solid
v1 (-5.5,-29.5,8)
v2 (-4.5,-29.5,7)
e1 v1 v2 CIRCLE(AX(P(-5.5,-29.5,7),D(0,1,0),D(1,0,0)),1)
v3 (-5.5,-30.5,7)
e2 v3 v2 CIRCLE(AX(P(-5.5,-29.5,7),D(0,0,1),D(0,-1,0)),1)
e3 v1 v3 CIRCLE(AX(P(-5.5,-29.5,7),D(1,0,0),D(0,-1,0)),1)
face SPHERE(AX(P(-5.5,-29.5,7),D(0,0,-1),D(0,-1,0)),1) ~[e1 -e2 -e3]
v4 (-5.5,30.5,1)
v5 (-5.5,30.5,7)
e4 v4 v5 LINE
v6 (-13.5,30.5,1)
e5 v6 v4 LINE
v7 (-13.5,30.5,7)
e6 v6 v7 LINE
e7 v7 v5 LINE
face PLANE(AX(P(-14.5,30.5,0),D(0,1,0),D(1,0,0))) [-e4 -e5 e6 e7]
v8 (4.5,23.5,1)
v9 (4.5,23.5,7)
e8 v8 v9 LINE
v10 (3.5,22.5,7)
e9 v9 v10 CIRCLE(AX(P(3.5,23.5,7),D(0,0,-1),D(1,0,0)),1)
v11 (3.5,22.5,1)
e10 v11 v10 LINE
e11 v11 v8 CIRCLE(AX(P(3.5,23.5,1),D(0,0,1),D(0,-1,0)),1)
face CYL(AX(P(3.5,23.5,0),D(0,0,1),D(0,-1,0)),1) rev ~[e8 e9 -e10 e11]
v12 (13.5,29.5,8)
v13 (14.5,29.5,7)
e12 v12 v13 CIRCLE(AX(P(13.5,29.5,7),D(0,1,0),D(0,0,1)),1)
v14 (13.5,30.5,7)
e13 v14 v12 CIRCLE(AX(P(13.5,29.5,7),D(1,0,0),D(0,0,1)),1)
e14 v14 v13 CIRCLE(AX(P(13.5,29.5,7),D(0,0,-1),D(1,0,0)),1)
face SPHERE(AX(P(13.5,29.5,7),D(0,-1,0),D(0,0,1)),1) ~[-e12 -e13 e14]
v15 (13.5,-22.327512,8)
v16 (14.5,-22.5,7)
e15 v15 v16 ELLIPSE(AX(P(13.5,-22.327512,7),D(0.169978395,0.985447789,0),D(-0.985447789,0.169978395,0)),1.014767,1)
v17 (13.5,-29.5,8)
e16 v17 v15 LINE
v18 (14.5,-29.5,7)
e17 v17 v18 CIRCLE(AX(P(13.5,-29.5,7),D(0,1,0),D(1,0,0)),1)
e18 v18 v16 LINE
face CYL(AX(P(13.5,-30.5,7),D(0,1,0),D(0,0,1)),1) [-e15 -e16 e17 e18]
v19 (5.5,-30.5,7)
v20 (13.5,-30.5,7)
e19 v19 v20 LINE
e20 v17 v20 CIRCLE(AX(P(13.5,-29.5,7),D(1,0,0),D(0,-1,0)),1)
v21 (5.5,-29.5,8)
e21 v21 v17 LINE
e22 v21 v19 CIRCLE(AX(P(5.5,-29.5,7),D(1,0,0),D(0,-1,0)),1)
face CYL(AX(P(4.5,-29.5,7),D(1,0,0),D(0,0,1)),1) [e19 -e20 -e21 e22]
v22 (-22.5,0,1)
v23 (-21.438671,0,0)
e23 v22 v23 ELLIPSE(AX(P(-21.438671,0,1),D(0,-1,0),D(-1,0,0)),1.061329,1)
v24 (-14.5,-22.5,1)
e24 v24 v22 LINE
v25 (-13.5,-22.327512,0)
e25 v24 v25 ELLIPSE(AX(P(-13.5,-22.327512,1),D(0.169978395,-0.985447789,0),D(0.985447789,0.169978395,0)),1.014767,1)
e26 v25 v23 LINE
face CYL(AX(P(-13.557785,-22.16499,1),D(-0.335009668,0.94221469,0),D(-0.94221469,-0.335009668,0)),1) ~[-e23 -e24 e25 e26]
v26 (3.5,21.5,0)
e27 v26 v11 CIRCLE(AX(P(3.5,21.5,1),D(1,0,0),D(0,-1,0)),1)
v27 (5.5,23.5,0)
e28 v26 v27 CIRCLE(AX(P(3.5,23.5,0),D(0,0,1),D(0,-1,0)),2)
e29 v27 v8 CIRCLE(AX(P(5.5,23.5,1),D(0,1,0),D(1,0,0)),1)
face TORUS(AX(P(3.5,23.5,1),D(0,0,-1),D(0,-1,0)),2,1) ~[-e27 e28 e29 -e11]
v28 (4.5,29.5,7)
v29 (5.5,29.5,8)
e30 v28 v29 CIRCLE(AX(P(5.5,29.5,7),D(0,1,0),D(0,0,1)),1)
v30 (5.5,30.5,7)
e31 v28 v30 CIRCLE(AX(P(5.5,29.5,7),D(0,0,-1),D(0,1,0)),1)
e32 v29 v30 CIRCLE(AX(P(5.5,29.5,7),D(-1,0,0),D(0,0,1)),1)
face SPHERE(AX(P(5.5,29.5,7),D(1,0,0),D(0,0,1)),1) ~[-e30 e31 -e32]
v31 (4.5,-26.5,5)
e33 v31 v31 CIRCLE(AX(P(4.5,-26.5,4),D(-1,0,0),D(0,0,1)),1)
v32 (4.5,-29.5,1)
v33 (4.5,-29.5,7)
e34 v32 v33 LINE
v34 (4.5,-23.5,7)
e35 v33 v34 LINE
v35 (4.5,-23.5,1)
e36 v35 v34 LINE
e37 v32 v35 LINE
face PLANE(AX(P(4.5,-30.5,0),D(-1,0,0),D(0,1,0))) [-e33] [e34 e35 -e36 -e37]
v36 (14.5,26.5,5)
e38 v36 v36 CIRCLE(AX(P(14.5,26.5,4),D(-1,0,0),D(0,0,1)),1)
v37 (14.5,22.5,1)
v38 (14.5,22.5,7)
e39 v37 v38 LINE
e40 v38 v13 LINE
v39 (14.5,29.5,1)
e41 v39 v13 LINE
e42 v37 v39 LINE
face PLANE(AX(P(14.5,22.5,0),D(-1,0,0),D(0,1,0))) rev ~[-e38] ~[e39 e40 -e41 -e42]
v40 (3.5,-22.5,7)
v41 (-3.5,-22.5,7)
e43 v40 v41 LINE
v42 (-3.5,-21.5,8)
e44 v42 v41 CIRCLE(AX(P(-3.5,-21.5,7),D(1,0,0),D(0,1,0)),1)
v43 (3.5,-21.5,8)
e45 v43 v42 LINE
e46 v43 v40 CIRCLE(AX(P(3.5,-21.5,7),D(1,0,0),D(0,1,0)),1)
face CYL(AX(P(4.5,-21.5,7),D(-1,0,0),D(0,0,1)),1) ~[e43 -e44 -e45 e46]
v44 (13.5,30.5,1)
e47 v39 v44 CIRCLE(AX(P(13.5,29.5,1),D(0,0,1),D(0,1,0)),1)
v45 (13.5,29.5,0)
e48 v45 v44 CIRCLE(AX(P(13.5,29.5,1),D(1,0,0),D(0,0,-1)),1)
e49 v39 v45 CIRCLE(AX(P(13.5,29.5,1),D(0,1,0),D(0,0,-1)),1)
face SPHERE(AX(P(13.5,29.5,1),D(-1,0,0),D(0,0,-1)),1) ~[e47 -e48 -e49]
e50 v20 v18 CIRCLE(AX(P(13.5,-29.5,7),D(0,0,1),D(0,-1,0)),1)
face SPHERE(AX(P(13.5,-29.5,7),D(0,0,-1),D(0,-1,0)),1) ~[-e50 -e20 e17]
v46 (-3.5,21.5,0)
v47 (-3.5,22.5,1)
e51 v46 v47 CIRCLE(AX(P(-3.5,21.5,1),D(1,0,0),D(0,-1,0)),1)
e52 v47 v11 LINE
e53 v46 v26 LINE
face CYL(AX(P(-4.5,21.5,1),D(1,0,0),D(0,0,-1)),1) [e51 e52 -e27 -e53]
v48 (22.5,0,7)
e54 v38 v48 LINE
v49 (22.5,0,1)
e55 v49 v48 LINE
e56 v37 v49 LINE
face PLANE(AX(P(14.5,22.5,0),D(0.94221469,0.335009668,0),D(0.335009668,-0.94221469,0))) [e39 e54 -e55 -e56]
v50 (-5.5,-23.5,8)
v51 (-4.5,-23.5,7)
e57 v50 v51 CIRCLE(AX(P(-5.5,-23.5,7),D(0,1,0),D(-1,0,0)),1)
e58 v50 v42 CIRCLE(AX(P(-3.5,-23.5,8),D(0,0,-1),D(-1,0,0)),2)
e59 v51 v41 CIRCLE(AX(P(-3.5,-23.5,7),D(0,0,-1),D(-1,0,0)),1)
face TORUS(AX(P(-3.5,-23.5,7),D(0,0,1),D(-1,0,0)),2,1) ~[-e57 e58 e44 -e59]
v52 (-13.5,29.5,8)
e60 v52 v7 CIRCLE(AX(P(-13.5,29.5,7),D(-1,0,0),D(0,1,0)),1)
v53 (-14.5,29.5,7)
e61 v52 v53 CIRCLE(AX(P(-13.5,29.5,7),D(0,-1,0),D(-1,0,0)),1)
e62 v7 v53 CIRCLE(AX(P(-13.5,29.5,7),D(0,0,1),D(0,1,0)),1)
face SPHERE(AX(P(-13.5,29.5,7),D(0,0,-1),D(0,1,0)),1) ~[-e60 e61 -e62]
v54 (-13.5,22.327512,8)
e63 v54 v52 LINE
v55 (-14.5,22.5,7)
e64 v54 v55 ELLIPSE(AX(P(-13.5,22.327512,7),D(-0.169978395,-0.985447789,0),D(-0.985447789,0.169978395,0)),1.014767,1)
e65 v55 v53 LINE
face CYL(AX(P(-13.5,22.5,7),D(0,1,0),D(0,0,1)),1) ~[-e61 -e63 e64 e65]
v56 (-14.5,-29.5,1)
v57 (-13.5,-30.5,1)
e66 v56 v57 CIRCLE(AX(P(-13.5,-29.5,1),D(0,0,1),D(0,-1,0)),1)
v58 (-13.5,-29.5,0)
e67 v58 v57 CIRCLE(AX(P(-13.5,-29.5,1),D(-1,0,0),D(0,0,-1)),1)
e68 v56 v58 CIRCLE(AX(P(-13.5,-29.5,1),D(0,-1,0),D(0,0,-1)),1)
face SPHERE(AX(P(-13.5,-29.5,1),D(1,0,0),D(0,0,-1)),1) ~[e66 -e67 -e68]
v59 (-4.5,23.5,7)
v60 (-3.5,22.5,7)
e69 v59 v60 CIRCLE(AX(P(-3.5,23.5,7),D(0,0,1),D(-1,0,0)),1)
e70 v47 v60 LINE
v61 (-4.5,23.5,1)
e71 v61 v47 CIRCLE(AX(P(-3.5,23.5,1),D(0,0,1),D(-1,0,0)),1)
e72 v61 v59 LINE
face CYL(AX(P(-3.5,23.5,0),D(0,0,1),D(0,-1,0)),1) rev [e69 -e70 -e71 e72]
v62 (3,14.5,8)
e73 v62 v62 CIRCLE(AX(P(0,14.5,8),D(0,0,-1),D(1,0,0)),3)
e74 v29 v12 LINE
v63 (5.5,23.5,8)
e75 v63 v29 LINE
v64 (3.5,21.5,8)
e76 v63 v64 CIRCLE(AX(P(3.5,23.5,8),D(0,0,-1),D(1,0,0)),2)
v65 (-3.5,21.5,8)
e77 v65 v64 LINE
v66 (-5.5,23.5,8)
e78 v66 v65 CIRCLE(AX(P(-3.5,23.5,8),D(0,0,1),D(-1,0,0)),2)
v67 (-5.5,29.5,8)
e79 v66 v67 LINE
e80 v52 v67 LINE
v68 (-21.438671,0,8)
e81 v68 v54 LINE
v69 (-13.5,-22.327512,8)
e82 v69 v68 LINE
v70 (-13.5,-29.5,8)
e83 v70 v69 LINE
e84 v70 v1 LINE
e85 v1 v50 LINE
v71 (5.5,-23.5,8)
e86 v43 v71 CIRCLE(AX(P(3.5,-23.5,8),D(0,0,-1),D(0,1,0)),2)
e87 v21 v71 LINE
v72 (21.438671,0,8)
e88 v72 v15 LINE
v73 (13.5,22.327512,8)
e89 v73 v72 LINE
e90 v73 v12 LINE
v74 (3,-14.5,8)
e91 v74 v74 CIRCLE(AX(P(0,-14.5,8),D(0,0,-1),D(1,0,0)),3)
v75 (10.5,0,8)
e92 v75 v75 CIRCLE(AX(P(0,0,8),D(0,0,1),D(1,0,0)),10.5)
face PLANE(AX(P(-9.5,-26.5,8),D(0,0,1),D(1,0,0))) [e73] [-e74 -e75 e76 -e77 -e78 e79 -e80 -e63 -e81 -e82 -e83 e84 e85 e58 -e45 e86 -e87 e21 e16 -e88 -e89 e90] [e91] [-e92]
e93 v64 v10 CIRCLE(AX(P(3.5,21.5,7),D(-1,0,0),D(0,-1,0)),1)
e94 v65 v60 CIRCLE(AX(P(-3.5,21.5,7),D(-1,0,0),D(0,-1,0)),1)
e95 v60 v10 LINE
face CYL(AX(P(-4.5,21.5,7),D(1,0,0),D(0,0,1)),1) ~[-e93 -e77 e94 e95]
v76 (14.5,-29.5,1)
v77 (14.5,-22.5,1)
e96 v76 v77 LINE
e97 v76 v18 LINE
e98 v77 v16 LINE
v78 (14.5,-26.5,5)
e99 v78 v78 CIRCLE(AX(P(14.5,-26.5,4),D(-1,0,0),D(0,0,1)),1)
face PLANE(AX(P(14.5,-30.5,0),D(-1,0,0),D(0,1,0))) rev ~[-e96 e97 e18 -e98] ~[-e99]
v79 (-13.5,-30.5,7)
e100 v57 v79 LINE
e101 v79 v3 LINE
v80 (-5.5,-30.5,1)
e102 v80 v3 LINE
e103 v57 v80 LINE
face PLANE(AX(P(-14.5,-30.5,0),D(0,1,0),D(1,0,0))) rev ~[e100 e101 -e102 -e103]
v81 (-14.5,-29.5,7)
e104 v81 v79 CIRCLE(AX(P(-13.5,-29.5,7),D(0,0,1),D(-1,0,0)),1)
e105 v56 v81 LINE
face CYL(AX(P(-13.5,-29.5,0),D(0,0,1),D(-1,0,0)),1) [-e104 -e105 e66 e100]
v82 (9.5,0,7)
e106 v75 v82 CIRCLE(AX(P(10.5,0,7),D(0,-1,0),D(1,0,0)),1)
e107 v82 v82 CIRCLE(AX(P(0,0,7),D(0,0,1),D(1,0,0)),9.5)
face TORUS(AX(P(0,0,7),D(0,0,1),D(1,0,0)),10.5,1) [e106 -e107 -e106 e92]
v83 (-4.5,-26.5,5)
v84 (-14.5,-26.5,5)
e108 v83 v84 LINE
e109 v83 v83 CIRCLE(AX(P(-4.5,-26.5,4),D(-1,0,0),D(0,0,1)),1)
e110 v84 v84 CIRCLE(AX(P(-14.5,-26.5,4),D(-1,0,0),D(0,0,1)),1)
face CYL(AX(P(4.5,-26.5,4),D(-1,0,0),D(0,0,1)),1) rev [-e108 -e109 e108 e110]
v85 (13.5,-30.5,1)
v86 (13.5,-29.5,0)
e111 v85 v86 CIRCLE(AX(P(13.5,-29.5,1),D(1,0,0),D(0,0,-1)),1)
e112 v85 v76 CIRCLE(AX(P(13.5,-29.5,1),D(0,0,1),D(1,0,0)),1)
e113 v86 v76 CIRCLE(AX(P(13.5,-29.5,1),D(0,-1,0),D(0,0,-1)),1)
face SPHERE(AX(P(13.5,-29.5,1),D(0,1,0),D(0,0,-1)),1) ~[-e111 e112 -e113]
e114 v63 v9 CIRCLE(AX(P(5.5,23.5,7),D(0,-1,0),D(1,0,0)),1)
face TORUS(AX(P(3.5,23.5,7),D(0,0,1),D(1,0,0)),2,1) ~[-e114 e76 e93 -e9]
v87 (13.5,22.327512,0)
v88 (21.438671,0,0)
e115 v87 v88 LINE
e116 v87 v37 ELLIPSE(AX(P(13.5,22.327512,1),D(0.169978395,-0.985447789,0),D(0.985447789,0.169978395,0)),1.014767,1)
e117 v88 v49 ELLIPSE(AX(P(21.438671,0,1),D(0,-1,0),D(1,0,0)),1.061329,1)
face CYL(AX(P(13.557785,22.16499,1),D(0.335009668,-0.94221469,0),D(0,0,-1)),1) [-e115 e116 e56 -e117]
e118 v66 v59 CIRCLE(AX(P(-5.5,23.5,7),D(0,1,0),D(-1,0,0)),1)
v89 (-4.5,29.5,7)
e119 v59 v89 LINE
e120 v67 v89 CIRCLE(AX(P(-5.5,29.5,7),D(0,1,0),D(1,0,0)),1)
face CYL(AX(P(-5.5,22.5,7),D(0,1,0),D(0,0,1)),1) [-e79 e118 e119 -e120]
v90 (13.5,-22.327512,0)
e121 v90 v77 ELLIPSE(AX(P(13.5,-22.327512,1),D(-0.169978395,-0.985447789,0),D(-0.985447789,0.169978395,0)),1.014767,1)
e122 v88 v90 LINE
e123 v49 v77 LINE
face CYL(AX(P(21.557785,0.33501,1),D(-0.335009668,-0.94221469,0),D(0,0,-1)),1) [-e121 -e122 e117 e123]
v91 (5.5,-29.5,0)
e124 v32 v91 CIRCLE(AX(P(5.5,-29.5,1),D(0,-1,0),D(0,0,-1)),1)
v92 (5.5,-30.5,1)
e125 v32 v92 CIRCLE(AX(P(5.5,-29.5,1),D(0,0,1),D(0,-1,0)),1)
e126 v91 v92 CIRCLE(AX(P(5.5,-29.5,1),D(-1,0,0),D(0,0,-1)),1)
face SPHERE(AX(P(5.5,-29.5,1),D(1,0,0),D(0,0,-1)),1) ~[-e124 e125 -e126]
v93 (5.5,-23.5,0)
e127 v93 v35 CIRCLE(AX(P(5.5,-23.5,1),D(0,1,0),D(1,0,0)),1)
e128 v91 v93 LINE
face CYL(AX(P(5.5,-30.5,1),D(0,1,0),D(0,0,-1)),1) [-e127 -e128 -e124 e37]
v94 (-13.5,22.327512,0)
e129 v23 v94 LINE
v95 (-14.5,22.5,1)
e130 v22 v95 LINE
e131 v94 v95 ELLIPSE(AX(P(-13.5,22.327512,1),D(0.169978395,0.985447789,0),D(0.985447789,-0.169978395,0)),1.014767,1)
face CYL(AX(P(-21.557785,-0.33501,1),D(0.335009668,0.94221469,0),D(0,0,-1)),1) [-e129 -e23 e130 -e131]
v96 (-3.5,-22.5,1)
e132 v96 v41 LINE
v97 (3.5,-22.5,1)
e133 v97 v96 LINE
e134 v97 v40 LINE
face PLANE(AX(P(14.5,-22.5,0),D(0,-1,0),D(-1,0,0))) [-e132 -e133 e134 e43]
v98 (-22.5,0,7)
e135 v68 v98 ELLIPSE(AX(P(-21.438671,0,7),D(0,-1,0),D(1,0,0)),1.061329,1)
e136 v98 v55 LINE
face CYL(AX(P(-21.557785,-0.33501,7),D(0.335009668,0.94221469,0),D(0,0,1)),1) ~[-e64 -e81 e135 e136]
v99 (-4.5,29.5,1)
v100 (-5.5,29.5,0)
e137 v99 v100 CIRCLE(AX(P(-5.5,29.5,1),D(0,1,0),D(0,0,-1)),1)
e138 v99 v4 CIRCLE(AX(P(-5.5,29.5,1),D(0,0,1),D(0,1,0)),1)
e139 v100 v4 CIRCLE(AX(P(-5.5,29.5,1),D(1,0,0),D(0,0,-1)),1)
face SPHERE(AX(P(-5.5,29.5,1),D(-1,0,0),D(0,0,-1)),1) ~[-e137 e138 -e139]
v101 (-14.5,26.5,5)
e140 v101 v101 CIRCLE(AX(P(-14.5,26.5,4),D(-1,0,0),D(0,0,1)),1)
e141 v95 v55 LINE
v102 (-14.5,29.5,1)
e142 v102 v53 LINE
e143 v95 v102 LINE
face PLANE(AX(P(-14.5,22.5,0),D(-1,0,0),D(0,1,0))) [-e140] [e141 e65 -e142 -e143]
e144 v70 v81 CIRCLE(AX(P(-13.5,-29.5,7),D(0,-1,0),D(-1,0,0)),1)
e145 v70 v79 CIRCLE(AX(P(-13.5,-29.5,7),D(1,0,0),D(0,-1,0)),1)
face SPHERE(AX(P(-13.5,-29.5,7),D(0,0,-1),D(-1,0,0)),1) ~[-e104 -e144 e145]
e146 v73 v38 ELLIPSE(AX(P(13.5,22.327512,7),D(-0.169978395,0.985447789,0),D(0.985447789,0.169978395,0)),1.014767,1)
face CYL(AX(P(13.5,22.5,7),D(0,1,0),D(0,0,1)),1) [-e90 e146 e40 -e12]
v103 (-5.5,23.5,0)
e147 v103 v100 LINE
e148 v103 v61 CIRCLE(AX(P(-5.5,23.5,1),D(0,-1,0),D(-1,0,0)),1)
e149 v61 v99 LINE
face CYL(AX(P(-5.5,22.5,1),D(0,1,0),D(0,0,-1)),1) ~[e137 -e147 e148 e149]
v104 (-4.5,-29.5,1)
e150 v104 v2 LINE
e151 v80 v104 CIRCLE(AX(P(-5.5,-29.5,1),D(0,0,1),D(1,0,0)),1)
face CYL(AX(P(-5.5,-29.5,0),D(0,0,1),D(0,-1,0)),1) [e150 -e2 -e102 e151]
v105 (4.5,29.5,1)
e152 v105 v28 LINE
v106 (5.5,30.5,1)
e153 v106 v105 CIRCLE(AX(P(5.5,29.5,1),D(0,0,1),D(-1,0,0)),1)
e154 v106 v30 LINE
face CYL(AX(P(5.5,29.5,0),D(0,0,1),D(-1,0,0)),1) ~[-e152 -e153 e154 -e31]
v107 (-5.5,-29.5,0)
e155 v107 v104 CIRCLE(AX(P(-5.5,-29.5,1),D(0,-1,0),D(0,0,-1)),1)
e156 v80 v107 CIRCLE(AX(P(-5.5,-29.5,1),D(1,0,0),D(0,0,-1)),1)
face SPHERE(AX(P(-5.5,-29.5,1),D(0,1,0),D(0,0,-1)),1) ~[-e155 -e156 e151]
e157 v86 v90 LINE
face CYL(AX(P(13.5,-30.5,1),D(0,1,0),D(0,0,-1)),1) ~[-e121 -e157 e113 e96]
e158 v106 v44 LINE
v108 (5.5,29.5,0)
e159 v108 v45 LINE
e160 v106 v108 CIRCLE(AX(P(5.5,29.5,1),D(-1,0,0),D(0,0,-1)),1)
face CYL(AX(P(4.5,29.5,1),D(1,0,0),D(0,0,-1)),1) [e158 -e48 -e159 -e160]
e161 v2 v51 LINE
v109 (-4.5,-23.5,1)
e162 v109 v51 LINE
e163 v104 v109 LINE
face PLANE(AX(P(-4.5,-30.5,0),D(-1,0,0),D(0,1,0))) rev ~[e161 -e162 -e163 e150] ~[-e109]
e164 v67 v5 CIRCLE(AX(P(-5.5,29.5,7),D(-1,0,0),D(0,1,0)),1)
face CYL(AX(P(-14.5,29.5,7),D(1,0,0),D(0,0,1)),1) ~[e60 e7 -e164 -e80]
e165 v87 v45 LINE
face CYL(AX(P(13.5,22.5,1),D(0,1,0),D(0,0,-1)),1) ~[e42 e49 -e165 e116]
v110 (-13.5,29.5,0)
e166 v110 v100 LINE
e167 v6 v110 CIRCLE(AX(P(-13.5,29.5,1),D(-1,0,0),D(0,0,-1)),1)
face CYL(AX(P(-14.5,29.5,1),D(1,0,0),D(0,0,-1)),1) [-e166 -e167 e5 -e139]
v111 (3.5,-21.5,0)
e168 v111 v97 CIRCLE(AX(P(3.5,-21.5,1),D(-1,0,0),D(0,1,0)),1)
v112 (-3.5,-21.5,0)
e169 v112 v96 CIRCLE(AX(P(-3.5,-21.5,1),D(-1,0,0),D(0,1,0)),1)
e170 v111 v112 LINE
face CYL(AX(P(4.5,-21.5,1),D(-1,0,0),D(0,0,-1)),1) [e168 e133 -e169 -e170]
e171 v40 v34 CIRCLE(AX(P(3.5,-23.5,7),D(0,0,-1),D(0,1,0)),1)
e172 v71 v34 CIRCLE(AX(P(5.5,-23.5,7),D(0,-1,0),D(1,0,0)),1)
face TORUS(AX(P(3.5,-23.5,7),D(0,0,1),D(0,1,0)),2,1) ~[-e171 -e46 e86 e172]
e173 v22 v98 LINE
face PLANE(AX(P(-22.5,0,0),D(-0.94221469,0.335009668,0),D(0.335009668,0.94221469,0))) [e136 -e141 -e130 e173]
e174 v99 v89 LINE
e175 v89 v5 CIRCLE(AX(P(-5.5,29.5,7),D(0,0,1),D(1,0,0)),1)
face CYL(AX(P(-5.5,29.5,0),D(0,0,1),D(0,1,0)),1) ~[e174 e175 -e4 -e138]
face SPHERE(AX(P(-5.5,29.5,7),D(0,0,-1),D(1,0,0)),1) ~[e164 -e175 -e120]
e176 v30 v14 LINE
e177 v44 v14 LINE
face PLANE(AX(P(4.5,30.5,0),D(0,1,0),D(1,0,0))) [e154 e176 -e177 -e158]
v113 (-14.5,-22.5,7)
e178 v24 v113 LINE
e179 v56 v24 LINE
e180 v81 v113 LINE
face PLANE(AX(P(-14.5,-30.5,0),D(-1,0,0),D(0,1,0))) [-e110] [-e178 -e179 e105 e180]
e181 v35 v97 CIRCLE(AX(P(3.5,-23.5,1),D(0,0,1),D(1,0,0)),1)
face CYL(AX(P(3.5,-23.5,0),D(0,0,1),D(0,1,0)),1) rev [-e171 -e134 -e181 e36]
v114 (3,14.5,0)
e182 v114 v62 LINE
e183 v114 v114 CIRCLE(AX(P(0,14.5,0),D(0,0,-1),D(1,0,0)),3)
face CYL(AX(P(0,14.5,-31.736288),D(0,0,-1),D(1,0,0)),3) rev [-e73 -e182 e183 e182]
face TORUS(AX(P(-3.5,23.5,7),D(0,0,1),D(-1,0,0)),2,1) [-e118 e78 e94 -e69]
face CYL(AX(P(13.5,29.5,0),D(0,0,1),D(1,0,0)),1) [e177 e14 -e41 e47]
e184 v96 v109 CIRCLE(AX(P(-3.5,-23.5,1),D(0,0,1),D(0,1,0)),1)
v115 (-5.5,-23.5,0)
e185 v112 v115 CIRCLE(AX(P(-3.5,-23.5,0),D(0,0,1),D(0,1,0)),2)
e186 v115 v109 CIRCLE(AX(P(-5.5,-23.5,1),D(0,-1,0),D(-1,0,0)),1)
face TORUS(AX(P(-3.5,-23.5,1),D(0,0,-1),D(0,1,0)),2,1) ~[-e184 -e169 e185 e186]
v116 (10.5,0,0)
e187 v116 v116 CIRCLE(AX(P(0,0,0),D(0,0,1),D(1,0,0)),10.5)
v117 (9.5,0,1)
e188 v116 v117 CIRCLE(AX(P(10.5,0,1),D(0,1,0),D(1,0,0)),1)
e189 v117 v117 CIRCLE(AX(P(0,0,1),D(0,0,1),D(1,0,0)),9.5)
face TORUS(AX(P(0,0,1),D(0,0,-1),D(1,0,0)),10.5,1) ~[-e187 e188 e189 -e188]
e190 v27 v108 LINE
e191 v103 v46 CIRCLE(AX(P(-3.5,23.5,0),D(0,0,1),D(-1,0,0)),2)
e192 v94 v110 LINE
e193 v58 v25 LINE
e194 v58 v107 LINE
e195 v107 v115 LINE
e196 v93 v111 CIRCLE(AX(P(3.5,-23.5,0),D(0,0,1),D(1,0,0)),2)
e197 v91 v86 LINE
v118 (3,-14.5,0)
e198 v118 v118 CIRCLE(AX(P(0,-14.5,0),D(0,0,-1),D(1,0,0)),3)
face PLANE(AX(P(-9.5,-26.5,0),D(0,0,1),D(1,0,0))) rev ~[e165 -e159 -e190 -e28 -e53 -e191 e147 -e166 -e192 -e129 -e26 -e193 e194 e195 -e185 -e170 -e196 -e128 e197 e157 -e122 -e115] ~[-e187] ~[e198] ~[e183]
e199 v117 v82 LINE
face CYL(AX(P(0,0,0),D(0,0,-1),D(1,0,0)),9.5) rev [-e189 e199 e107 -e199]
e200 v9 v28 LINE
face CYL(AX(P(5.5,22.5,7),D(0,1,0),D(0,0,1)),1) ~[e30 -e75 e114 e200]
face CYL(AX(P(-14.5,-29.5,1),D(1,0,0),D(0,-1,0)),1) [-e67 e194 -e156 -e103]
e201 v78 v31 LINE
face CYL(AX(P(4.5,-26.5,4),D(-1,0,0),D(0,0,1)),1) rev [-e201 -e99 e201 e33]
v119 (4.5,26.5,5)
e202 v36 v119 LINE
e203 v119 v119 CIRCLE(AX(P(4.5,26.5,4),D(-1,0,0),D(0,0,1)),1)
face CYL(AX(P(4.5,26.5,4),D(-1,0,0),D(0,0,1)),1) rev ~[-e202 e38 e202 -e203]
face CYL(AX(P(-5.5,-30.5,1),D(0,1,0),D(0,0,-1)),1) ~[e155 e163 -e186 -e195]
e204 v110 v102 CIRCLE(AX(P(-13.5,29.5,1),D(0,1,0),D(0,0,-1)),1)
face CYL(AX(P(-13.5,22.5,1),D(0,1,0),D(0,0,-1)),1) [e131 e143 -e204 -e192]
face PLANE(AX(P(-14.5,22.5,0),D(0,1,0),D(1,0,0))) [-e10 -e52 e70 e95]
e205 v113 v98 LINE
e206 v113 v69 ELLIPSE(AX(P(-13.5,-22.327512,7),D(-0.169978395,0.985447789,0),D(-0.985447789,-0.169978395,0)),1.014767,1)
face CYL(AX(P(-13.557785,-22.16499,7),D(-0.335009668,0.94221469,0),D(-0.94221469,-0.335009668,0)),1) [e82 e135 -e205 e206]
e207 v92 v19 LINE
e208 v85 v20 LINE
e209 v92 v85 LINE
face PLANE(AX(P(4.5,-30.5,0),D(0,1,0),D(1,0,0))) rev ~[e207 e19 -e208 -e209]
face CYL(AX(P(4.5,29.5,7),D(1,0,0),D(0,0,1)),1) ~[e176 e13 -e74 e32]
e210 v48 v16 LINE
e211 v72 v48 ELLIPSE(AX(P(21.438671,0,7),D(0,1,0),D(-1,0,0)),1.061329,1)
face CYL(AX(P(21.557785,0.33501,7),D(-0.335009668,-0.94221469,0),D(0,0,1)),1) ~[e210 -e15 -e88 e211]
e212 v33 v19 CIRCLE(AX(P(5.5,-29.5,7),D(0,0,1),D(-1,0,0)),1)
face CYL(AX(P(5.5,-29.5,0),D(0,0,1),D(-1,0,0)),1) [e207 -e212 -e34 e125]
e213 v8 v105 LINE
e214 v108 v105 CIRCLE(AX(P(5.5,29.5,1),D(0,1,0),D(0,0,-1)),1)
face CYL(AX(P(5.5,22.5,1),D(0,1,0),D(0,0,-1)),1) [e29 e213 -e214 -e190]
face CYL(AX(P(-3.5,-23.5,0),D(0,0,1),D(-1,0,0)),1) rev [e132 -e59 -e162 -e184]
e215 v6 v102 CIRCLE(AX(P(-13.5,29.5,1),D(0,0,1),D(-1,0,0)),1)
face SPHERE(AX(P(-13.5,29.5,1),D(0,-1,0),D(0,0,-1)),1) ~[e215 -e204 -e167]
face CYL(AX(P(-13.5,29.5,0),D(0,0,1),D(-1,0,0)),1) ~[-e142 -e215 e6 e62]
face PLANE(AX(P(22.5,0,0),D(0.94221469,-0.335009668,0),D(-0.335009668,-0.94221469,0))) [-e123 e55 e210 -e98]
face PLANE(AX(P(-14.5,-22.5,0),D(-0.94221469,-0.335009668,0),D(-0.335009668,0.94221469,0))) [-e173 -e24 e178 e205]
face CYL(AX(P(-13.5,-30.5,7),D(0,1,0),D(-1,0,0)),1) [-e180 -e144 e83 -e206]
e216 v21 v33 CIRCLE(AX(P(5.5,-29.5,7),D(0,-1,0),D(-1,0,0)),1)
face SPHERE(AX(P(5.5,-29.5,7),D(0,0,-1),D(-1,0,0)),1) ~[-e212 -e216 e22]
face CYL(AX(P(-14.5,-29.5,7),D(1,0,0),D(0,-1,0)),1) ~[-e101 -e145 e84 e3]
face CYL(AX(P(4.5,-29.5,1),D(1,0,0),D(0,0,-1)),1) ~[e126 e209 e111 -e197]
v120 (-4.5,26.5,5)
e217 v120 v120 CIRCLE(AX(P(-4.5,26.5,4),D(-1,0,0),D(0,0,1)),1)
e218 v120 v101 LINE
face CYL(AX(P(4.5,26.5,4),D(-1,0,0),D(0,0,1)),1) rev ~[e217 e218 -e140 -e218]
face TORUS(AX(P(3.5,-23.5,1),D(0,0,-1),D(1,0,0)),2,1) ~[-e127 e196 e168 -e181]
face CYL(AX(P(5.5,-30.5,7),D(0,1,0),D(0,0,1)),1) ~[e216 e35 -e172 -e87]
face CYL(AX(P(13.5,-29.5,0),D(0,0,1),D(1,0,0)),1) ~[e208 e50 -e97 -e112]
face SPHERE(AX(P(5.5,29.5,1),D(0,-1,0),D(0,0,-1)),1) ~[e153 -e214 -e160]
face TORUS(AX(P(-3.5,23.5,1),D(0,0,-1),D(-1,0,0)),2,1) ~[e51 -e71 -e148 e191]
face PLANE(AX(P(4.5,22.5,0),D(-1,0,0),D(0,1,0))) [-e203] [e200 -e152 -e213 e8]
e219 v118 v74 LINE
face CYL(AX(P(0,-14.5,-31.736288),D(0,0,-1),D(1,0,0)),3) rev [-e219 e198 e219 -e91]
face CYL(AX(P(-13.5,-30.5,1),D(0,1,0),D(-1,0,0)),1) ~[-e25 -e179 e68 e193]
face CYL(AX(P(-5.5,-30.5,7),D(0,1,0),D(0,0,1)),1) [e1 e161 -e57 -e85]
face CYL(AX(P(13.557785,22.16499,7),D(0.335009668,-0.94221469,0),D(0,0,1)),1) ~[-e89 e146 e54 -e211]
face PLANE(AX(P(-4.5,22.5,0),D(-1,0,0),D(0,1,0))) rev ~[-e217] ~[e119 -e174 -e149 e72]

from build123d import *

# Parameters (mm, degrees)
SKETCH2_R               = 9.5
SKETCH2_W               = 10
SKETCH2_H               = 8
BOSS_EXTRUDE1_DEPTH     = 8
FILLET1_R               = 1
SKETCH3_R               = 1
CUT_EXTRUDE1_DEPTH      = 42.512046444
CUT_EXTRUDE2_DEPTH      = 39.736287896
CUT_EXTRUDE2_DEPTH_BACK = 39.736287896
SKETCH4_R               = 3


with BuildPart() as part:
    # Sketch2 → Boss-Extrude1 (new body)
    # profile 1 of 5: a face of its own
    with BuildSketch(Plane.XY):
        Polygon((22.5, 0), (14.5, -22.5), (-14.5, -22.5), (-22.5, 0), (-14.5, 22.5), (14.5, 22.5), align=None)
        Circle(SKETCH2_R, mode=Mode.SUBTRACT)
    # profile 2 of 5: a face of its own
    with BuildSketch(Plane.XY):
        with Locations((-9.5, 26.5)):
            Rectangle(SKETCH2_W, SKETCH2_H)
    # profile 3 of 5: a face of its own
    with BuildSketch(Plane.XY):
        with Locations((9.5, 26.5)):
            Rectangle(SKETCH2_W, SKETCH2_H)
    # profile 4 of 5: a face of its own
    with BuildSketch(Plane.XY):
        with Locations((9.5, -26.5)):
            Rectangle(SKETCH2_W, SKETCH2_H)
    # profile 5 of 5: a face of its own
    with BuildSketch(Plane.XY):
        with Locations((-9.5, -26.5)):
            Rectangle(SKETCH2_W, SKETCH2_H)
    extrude(amount=BOSS_EXTRUDE1_DEPTH)

    # Fillet1
    fillet1_edges = [part.edges().sort_by_distance(p)[0] for p in [
        (18.5, -11.25, 8),
        (18.5, 11.25, 8),
        (14.5, -26.5, 0),
        (14.5, 26.5, 8),
        (9.5, -30.5, 0),
        (4.5, -26.5, 0),
        (0, -22.5, 0),
        (-4.5, -26.5, 0),
        (-9.5, -30.5, 0),
        (-14.5, -26.5, 0),
        (-18.5, -11.25, 0),
        (-18.5, 11.25, 0),
        (-14.5, 26.5, 0),
        (-9.5, 30.5, 0),
        (9.5, 30.5, 8),
        (-4.5, 26.5, 0),
        (0, 22.5, 0),
        (4.5, 26.5, 0),
        (9.5, 30.5, 0),
        (14.5, 26.5, 0),
        (18.5, 11.25, 0),
        (18.5, -11.25, 0),
        (-9.5, 0, 0),
        (4.5, 26.5, 8),
        (0, 22.5, 8),
        (14.5, -30.5, 4),
        (4.5, -30.5, 4),
        (4.5, -22.5, 4),
        (-4.5, -22.5, 4),
        (-4.5, -30.5, 4),
        (-14.5, -30.5, 4),
        (-14.5, 30.5, 4),
        (-4.5, 30.5, 4),
        (-4.5, 22.5, 4),
        (4.5, 22.5, 4),
        (4.5, 30.5, 4),
        (14.5, 30.5, 4),
        (-4.5, 26.5, 8),
        (-9.5, 30.5, 8),
        (-14.5, 26.5, 8),
        (-18.5, 11.25, 8),
        (-9.5, 0, 8),
        (-18.5, -11.25, 8),
        (-14.5, -26.5, 8),
        (-9.5, -30.5, 8),
        (-4.5, -26.5, 8),
        (0, -22.5, 8),
        (4.5, -26.5, 8),
        (9.5, -30.5, 8),
        (14.5, -26.5, 8),
    ]]
    fillet(fillet1_edges, radius=FILLET1_R)

    # Sketch3 → Cut-Extrude1 (cut, symmetric)
    with BuildSketch(Plane.ZY.offset(-4.5)):
        with Locations((4, 26.5)):
            Circle(SKETCH3_R)
    cut_extrude1 = extrude(amount=CUT_EXTRUDE1_DEPTH, both=True, mode=Mode.SUBTRACT)

    # Mirror1: Cut-Extrude1 across plane
    add(cut_extrude1.mirror(Plane.ZX), mode=Mode.SUBTRACT)

    # Sketch4 → Cut-Extrude2 (cut, two sides: drawn at the far end of the back side and taken through both)
    with BuildSketch(Plane.XY.offset(8).offset(-CUT_EXTRUDE2_DEPTH_BACK)):
        with Locations((0, 14.5)):
            Circle(SKETCH4_R)
        with Locations((0, -14.5)):
            Circle(SKETCH4_R)
    extrude(amount=CUT_EXTRUDE2_DEPTH + CUT_EXTRUDE2_DEPTH_BACK, mode=Mode.SUBTRACT)


solid = part.part
